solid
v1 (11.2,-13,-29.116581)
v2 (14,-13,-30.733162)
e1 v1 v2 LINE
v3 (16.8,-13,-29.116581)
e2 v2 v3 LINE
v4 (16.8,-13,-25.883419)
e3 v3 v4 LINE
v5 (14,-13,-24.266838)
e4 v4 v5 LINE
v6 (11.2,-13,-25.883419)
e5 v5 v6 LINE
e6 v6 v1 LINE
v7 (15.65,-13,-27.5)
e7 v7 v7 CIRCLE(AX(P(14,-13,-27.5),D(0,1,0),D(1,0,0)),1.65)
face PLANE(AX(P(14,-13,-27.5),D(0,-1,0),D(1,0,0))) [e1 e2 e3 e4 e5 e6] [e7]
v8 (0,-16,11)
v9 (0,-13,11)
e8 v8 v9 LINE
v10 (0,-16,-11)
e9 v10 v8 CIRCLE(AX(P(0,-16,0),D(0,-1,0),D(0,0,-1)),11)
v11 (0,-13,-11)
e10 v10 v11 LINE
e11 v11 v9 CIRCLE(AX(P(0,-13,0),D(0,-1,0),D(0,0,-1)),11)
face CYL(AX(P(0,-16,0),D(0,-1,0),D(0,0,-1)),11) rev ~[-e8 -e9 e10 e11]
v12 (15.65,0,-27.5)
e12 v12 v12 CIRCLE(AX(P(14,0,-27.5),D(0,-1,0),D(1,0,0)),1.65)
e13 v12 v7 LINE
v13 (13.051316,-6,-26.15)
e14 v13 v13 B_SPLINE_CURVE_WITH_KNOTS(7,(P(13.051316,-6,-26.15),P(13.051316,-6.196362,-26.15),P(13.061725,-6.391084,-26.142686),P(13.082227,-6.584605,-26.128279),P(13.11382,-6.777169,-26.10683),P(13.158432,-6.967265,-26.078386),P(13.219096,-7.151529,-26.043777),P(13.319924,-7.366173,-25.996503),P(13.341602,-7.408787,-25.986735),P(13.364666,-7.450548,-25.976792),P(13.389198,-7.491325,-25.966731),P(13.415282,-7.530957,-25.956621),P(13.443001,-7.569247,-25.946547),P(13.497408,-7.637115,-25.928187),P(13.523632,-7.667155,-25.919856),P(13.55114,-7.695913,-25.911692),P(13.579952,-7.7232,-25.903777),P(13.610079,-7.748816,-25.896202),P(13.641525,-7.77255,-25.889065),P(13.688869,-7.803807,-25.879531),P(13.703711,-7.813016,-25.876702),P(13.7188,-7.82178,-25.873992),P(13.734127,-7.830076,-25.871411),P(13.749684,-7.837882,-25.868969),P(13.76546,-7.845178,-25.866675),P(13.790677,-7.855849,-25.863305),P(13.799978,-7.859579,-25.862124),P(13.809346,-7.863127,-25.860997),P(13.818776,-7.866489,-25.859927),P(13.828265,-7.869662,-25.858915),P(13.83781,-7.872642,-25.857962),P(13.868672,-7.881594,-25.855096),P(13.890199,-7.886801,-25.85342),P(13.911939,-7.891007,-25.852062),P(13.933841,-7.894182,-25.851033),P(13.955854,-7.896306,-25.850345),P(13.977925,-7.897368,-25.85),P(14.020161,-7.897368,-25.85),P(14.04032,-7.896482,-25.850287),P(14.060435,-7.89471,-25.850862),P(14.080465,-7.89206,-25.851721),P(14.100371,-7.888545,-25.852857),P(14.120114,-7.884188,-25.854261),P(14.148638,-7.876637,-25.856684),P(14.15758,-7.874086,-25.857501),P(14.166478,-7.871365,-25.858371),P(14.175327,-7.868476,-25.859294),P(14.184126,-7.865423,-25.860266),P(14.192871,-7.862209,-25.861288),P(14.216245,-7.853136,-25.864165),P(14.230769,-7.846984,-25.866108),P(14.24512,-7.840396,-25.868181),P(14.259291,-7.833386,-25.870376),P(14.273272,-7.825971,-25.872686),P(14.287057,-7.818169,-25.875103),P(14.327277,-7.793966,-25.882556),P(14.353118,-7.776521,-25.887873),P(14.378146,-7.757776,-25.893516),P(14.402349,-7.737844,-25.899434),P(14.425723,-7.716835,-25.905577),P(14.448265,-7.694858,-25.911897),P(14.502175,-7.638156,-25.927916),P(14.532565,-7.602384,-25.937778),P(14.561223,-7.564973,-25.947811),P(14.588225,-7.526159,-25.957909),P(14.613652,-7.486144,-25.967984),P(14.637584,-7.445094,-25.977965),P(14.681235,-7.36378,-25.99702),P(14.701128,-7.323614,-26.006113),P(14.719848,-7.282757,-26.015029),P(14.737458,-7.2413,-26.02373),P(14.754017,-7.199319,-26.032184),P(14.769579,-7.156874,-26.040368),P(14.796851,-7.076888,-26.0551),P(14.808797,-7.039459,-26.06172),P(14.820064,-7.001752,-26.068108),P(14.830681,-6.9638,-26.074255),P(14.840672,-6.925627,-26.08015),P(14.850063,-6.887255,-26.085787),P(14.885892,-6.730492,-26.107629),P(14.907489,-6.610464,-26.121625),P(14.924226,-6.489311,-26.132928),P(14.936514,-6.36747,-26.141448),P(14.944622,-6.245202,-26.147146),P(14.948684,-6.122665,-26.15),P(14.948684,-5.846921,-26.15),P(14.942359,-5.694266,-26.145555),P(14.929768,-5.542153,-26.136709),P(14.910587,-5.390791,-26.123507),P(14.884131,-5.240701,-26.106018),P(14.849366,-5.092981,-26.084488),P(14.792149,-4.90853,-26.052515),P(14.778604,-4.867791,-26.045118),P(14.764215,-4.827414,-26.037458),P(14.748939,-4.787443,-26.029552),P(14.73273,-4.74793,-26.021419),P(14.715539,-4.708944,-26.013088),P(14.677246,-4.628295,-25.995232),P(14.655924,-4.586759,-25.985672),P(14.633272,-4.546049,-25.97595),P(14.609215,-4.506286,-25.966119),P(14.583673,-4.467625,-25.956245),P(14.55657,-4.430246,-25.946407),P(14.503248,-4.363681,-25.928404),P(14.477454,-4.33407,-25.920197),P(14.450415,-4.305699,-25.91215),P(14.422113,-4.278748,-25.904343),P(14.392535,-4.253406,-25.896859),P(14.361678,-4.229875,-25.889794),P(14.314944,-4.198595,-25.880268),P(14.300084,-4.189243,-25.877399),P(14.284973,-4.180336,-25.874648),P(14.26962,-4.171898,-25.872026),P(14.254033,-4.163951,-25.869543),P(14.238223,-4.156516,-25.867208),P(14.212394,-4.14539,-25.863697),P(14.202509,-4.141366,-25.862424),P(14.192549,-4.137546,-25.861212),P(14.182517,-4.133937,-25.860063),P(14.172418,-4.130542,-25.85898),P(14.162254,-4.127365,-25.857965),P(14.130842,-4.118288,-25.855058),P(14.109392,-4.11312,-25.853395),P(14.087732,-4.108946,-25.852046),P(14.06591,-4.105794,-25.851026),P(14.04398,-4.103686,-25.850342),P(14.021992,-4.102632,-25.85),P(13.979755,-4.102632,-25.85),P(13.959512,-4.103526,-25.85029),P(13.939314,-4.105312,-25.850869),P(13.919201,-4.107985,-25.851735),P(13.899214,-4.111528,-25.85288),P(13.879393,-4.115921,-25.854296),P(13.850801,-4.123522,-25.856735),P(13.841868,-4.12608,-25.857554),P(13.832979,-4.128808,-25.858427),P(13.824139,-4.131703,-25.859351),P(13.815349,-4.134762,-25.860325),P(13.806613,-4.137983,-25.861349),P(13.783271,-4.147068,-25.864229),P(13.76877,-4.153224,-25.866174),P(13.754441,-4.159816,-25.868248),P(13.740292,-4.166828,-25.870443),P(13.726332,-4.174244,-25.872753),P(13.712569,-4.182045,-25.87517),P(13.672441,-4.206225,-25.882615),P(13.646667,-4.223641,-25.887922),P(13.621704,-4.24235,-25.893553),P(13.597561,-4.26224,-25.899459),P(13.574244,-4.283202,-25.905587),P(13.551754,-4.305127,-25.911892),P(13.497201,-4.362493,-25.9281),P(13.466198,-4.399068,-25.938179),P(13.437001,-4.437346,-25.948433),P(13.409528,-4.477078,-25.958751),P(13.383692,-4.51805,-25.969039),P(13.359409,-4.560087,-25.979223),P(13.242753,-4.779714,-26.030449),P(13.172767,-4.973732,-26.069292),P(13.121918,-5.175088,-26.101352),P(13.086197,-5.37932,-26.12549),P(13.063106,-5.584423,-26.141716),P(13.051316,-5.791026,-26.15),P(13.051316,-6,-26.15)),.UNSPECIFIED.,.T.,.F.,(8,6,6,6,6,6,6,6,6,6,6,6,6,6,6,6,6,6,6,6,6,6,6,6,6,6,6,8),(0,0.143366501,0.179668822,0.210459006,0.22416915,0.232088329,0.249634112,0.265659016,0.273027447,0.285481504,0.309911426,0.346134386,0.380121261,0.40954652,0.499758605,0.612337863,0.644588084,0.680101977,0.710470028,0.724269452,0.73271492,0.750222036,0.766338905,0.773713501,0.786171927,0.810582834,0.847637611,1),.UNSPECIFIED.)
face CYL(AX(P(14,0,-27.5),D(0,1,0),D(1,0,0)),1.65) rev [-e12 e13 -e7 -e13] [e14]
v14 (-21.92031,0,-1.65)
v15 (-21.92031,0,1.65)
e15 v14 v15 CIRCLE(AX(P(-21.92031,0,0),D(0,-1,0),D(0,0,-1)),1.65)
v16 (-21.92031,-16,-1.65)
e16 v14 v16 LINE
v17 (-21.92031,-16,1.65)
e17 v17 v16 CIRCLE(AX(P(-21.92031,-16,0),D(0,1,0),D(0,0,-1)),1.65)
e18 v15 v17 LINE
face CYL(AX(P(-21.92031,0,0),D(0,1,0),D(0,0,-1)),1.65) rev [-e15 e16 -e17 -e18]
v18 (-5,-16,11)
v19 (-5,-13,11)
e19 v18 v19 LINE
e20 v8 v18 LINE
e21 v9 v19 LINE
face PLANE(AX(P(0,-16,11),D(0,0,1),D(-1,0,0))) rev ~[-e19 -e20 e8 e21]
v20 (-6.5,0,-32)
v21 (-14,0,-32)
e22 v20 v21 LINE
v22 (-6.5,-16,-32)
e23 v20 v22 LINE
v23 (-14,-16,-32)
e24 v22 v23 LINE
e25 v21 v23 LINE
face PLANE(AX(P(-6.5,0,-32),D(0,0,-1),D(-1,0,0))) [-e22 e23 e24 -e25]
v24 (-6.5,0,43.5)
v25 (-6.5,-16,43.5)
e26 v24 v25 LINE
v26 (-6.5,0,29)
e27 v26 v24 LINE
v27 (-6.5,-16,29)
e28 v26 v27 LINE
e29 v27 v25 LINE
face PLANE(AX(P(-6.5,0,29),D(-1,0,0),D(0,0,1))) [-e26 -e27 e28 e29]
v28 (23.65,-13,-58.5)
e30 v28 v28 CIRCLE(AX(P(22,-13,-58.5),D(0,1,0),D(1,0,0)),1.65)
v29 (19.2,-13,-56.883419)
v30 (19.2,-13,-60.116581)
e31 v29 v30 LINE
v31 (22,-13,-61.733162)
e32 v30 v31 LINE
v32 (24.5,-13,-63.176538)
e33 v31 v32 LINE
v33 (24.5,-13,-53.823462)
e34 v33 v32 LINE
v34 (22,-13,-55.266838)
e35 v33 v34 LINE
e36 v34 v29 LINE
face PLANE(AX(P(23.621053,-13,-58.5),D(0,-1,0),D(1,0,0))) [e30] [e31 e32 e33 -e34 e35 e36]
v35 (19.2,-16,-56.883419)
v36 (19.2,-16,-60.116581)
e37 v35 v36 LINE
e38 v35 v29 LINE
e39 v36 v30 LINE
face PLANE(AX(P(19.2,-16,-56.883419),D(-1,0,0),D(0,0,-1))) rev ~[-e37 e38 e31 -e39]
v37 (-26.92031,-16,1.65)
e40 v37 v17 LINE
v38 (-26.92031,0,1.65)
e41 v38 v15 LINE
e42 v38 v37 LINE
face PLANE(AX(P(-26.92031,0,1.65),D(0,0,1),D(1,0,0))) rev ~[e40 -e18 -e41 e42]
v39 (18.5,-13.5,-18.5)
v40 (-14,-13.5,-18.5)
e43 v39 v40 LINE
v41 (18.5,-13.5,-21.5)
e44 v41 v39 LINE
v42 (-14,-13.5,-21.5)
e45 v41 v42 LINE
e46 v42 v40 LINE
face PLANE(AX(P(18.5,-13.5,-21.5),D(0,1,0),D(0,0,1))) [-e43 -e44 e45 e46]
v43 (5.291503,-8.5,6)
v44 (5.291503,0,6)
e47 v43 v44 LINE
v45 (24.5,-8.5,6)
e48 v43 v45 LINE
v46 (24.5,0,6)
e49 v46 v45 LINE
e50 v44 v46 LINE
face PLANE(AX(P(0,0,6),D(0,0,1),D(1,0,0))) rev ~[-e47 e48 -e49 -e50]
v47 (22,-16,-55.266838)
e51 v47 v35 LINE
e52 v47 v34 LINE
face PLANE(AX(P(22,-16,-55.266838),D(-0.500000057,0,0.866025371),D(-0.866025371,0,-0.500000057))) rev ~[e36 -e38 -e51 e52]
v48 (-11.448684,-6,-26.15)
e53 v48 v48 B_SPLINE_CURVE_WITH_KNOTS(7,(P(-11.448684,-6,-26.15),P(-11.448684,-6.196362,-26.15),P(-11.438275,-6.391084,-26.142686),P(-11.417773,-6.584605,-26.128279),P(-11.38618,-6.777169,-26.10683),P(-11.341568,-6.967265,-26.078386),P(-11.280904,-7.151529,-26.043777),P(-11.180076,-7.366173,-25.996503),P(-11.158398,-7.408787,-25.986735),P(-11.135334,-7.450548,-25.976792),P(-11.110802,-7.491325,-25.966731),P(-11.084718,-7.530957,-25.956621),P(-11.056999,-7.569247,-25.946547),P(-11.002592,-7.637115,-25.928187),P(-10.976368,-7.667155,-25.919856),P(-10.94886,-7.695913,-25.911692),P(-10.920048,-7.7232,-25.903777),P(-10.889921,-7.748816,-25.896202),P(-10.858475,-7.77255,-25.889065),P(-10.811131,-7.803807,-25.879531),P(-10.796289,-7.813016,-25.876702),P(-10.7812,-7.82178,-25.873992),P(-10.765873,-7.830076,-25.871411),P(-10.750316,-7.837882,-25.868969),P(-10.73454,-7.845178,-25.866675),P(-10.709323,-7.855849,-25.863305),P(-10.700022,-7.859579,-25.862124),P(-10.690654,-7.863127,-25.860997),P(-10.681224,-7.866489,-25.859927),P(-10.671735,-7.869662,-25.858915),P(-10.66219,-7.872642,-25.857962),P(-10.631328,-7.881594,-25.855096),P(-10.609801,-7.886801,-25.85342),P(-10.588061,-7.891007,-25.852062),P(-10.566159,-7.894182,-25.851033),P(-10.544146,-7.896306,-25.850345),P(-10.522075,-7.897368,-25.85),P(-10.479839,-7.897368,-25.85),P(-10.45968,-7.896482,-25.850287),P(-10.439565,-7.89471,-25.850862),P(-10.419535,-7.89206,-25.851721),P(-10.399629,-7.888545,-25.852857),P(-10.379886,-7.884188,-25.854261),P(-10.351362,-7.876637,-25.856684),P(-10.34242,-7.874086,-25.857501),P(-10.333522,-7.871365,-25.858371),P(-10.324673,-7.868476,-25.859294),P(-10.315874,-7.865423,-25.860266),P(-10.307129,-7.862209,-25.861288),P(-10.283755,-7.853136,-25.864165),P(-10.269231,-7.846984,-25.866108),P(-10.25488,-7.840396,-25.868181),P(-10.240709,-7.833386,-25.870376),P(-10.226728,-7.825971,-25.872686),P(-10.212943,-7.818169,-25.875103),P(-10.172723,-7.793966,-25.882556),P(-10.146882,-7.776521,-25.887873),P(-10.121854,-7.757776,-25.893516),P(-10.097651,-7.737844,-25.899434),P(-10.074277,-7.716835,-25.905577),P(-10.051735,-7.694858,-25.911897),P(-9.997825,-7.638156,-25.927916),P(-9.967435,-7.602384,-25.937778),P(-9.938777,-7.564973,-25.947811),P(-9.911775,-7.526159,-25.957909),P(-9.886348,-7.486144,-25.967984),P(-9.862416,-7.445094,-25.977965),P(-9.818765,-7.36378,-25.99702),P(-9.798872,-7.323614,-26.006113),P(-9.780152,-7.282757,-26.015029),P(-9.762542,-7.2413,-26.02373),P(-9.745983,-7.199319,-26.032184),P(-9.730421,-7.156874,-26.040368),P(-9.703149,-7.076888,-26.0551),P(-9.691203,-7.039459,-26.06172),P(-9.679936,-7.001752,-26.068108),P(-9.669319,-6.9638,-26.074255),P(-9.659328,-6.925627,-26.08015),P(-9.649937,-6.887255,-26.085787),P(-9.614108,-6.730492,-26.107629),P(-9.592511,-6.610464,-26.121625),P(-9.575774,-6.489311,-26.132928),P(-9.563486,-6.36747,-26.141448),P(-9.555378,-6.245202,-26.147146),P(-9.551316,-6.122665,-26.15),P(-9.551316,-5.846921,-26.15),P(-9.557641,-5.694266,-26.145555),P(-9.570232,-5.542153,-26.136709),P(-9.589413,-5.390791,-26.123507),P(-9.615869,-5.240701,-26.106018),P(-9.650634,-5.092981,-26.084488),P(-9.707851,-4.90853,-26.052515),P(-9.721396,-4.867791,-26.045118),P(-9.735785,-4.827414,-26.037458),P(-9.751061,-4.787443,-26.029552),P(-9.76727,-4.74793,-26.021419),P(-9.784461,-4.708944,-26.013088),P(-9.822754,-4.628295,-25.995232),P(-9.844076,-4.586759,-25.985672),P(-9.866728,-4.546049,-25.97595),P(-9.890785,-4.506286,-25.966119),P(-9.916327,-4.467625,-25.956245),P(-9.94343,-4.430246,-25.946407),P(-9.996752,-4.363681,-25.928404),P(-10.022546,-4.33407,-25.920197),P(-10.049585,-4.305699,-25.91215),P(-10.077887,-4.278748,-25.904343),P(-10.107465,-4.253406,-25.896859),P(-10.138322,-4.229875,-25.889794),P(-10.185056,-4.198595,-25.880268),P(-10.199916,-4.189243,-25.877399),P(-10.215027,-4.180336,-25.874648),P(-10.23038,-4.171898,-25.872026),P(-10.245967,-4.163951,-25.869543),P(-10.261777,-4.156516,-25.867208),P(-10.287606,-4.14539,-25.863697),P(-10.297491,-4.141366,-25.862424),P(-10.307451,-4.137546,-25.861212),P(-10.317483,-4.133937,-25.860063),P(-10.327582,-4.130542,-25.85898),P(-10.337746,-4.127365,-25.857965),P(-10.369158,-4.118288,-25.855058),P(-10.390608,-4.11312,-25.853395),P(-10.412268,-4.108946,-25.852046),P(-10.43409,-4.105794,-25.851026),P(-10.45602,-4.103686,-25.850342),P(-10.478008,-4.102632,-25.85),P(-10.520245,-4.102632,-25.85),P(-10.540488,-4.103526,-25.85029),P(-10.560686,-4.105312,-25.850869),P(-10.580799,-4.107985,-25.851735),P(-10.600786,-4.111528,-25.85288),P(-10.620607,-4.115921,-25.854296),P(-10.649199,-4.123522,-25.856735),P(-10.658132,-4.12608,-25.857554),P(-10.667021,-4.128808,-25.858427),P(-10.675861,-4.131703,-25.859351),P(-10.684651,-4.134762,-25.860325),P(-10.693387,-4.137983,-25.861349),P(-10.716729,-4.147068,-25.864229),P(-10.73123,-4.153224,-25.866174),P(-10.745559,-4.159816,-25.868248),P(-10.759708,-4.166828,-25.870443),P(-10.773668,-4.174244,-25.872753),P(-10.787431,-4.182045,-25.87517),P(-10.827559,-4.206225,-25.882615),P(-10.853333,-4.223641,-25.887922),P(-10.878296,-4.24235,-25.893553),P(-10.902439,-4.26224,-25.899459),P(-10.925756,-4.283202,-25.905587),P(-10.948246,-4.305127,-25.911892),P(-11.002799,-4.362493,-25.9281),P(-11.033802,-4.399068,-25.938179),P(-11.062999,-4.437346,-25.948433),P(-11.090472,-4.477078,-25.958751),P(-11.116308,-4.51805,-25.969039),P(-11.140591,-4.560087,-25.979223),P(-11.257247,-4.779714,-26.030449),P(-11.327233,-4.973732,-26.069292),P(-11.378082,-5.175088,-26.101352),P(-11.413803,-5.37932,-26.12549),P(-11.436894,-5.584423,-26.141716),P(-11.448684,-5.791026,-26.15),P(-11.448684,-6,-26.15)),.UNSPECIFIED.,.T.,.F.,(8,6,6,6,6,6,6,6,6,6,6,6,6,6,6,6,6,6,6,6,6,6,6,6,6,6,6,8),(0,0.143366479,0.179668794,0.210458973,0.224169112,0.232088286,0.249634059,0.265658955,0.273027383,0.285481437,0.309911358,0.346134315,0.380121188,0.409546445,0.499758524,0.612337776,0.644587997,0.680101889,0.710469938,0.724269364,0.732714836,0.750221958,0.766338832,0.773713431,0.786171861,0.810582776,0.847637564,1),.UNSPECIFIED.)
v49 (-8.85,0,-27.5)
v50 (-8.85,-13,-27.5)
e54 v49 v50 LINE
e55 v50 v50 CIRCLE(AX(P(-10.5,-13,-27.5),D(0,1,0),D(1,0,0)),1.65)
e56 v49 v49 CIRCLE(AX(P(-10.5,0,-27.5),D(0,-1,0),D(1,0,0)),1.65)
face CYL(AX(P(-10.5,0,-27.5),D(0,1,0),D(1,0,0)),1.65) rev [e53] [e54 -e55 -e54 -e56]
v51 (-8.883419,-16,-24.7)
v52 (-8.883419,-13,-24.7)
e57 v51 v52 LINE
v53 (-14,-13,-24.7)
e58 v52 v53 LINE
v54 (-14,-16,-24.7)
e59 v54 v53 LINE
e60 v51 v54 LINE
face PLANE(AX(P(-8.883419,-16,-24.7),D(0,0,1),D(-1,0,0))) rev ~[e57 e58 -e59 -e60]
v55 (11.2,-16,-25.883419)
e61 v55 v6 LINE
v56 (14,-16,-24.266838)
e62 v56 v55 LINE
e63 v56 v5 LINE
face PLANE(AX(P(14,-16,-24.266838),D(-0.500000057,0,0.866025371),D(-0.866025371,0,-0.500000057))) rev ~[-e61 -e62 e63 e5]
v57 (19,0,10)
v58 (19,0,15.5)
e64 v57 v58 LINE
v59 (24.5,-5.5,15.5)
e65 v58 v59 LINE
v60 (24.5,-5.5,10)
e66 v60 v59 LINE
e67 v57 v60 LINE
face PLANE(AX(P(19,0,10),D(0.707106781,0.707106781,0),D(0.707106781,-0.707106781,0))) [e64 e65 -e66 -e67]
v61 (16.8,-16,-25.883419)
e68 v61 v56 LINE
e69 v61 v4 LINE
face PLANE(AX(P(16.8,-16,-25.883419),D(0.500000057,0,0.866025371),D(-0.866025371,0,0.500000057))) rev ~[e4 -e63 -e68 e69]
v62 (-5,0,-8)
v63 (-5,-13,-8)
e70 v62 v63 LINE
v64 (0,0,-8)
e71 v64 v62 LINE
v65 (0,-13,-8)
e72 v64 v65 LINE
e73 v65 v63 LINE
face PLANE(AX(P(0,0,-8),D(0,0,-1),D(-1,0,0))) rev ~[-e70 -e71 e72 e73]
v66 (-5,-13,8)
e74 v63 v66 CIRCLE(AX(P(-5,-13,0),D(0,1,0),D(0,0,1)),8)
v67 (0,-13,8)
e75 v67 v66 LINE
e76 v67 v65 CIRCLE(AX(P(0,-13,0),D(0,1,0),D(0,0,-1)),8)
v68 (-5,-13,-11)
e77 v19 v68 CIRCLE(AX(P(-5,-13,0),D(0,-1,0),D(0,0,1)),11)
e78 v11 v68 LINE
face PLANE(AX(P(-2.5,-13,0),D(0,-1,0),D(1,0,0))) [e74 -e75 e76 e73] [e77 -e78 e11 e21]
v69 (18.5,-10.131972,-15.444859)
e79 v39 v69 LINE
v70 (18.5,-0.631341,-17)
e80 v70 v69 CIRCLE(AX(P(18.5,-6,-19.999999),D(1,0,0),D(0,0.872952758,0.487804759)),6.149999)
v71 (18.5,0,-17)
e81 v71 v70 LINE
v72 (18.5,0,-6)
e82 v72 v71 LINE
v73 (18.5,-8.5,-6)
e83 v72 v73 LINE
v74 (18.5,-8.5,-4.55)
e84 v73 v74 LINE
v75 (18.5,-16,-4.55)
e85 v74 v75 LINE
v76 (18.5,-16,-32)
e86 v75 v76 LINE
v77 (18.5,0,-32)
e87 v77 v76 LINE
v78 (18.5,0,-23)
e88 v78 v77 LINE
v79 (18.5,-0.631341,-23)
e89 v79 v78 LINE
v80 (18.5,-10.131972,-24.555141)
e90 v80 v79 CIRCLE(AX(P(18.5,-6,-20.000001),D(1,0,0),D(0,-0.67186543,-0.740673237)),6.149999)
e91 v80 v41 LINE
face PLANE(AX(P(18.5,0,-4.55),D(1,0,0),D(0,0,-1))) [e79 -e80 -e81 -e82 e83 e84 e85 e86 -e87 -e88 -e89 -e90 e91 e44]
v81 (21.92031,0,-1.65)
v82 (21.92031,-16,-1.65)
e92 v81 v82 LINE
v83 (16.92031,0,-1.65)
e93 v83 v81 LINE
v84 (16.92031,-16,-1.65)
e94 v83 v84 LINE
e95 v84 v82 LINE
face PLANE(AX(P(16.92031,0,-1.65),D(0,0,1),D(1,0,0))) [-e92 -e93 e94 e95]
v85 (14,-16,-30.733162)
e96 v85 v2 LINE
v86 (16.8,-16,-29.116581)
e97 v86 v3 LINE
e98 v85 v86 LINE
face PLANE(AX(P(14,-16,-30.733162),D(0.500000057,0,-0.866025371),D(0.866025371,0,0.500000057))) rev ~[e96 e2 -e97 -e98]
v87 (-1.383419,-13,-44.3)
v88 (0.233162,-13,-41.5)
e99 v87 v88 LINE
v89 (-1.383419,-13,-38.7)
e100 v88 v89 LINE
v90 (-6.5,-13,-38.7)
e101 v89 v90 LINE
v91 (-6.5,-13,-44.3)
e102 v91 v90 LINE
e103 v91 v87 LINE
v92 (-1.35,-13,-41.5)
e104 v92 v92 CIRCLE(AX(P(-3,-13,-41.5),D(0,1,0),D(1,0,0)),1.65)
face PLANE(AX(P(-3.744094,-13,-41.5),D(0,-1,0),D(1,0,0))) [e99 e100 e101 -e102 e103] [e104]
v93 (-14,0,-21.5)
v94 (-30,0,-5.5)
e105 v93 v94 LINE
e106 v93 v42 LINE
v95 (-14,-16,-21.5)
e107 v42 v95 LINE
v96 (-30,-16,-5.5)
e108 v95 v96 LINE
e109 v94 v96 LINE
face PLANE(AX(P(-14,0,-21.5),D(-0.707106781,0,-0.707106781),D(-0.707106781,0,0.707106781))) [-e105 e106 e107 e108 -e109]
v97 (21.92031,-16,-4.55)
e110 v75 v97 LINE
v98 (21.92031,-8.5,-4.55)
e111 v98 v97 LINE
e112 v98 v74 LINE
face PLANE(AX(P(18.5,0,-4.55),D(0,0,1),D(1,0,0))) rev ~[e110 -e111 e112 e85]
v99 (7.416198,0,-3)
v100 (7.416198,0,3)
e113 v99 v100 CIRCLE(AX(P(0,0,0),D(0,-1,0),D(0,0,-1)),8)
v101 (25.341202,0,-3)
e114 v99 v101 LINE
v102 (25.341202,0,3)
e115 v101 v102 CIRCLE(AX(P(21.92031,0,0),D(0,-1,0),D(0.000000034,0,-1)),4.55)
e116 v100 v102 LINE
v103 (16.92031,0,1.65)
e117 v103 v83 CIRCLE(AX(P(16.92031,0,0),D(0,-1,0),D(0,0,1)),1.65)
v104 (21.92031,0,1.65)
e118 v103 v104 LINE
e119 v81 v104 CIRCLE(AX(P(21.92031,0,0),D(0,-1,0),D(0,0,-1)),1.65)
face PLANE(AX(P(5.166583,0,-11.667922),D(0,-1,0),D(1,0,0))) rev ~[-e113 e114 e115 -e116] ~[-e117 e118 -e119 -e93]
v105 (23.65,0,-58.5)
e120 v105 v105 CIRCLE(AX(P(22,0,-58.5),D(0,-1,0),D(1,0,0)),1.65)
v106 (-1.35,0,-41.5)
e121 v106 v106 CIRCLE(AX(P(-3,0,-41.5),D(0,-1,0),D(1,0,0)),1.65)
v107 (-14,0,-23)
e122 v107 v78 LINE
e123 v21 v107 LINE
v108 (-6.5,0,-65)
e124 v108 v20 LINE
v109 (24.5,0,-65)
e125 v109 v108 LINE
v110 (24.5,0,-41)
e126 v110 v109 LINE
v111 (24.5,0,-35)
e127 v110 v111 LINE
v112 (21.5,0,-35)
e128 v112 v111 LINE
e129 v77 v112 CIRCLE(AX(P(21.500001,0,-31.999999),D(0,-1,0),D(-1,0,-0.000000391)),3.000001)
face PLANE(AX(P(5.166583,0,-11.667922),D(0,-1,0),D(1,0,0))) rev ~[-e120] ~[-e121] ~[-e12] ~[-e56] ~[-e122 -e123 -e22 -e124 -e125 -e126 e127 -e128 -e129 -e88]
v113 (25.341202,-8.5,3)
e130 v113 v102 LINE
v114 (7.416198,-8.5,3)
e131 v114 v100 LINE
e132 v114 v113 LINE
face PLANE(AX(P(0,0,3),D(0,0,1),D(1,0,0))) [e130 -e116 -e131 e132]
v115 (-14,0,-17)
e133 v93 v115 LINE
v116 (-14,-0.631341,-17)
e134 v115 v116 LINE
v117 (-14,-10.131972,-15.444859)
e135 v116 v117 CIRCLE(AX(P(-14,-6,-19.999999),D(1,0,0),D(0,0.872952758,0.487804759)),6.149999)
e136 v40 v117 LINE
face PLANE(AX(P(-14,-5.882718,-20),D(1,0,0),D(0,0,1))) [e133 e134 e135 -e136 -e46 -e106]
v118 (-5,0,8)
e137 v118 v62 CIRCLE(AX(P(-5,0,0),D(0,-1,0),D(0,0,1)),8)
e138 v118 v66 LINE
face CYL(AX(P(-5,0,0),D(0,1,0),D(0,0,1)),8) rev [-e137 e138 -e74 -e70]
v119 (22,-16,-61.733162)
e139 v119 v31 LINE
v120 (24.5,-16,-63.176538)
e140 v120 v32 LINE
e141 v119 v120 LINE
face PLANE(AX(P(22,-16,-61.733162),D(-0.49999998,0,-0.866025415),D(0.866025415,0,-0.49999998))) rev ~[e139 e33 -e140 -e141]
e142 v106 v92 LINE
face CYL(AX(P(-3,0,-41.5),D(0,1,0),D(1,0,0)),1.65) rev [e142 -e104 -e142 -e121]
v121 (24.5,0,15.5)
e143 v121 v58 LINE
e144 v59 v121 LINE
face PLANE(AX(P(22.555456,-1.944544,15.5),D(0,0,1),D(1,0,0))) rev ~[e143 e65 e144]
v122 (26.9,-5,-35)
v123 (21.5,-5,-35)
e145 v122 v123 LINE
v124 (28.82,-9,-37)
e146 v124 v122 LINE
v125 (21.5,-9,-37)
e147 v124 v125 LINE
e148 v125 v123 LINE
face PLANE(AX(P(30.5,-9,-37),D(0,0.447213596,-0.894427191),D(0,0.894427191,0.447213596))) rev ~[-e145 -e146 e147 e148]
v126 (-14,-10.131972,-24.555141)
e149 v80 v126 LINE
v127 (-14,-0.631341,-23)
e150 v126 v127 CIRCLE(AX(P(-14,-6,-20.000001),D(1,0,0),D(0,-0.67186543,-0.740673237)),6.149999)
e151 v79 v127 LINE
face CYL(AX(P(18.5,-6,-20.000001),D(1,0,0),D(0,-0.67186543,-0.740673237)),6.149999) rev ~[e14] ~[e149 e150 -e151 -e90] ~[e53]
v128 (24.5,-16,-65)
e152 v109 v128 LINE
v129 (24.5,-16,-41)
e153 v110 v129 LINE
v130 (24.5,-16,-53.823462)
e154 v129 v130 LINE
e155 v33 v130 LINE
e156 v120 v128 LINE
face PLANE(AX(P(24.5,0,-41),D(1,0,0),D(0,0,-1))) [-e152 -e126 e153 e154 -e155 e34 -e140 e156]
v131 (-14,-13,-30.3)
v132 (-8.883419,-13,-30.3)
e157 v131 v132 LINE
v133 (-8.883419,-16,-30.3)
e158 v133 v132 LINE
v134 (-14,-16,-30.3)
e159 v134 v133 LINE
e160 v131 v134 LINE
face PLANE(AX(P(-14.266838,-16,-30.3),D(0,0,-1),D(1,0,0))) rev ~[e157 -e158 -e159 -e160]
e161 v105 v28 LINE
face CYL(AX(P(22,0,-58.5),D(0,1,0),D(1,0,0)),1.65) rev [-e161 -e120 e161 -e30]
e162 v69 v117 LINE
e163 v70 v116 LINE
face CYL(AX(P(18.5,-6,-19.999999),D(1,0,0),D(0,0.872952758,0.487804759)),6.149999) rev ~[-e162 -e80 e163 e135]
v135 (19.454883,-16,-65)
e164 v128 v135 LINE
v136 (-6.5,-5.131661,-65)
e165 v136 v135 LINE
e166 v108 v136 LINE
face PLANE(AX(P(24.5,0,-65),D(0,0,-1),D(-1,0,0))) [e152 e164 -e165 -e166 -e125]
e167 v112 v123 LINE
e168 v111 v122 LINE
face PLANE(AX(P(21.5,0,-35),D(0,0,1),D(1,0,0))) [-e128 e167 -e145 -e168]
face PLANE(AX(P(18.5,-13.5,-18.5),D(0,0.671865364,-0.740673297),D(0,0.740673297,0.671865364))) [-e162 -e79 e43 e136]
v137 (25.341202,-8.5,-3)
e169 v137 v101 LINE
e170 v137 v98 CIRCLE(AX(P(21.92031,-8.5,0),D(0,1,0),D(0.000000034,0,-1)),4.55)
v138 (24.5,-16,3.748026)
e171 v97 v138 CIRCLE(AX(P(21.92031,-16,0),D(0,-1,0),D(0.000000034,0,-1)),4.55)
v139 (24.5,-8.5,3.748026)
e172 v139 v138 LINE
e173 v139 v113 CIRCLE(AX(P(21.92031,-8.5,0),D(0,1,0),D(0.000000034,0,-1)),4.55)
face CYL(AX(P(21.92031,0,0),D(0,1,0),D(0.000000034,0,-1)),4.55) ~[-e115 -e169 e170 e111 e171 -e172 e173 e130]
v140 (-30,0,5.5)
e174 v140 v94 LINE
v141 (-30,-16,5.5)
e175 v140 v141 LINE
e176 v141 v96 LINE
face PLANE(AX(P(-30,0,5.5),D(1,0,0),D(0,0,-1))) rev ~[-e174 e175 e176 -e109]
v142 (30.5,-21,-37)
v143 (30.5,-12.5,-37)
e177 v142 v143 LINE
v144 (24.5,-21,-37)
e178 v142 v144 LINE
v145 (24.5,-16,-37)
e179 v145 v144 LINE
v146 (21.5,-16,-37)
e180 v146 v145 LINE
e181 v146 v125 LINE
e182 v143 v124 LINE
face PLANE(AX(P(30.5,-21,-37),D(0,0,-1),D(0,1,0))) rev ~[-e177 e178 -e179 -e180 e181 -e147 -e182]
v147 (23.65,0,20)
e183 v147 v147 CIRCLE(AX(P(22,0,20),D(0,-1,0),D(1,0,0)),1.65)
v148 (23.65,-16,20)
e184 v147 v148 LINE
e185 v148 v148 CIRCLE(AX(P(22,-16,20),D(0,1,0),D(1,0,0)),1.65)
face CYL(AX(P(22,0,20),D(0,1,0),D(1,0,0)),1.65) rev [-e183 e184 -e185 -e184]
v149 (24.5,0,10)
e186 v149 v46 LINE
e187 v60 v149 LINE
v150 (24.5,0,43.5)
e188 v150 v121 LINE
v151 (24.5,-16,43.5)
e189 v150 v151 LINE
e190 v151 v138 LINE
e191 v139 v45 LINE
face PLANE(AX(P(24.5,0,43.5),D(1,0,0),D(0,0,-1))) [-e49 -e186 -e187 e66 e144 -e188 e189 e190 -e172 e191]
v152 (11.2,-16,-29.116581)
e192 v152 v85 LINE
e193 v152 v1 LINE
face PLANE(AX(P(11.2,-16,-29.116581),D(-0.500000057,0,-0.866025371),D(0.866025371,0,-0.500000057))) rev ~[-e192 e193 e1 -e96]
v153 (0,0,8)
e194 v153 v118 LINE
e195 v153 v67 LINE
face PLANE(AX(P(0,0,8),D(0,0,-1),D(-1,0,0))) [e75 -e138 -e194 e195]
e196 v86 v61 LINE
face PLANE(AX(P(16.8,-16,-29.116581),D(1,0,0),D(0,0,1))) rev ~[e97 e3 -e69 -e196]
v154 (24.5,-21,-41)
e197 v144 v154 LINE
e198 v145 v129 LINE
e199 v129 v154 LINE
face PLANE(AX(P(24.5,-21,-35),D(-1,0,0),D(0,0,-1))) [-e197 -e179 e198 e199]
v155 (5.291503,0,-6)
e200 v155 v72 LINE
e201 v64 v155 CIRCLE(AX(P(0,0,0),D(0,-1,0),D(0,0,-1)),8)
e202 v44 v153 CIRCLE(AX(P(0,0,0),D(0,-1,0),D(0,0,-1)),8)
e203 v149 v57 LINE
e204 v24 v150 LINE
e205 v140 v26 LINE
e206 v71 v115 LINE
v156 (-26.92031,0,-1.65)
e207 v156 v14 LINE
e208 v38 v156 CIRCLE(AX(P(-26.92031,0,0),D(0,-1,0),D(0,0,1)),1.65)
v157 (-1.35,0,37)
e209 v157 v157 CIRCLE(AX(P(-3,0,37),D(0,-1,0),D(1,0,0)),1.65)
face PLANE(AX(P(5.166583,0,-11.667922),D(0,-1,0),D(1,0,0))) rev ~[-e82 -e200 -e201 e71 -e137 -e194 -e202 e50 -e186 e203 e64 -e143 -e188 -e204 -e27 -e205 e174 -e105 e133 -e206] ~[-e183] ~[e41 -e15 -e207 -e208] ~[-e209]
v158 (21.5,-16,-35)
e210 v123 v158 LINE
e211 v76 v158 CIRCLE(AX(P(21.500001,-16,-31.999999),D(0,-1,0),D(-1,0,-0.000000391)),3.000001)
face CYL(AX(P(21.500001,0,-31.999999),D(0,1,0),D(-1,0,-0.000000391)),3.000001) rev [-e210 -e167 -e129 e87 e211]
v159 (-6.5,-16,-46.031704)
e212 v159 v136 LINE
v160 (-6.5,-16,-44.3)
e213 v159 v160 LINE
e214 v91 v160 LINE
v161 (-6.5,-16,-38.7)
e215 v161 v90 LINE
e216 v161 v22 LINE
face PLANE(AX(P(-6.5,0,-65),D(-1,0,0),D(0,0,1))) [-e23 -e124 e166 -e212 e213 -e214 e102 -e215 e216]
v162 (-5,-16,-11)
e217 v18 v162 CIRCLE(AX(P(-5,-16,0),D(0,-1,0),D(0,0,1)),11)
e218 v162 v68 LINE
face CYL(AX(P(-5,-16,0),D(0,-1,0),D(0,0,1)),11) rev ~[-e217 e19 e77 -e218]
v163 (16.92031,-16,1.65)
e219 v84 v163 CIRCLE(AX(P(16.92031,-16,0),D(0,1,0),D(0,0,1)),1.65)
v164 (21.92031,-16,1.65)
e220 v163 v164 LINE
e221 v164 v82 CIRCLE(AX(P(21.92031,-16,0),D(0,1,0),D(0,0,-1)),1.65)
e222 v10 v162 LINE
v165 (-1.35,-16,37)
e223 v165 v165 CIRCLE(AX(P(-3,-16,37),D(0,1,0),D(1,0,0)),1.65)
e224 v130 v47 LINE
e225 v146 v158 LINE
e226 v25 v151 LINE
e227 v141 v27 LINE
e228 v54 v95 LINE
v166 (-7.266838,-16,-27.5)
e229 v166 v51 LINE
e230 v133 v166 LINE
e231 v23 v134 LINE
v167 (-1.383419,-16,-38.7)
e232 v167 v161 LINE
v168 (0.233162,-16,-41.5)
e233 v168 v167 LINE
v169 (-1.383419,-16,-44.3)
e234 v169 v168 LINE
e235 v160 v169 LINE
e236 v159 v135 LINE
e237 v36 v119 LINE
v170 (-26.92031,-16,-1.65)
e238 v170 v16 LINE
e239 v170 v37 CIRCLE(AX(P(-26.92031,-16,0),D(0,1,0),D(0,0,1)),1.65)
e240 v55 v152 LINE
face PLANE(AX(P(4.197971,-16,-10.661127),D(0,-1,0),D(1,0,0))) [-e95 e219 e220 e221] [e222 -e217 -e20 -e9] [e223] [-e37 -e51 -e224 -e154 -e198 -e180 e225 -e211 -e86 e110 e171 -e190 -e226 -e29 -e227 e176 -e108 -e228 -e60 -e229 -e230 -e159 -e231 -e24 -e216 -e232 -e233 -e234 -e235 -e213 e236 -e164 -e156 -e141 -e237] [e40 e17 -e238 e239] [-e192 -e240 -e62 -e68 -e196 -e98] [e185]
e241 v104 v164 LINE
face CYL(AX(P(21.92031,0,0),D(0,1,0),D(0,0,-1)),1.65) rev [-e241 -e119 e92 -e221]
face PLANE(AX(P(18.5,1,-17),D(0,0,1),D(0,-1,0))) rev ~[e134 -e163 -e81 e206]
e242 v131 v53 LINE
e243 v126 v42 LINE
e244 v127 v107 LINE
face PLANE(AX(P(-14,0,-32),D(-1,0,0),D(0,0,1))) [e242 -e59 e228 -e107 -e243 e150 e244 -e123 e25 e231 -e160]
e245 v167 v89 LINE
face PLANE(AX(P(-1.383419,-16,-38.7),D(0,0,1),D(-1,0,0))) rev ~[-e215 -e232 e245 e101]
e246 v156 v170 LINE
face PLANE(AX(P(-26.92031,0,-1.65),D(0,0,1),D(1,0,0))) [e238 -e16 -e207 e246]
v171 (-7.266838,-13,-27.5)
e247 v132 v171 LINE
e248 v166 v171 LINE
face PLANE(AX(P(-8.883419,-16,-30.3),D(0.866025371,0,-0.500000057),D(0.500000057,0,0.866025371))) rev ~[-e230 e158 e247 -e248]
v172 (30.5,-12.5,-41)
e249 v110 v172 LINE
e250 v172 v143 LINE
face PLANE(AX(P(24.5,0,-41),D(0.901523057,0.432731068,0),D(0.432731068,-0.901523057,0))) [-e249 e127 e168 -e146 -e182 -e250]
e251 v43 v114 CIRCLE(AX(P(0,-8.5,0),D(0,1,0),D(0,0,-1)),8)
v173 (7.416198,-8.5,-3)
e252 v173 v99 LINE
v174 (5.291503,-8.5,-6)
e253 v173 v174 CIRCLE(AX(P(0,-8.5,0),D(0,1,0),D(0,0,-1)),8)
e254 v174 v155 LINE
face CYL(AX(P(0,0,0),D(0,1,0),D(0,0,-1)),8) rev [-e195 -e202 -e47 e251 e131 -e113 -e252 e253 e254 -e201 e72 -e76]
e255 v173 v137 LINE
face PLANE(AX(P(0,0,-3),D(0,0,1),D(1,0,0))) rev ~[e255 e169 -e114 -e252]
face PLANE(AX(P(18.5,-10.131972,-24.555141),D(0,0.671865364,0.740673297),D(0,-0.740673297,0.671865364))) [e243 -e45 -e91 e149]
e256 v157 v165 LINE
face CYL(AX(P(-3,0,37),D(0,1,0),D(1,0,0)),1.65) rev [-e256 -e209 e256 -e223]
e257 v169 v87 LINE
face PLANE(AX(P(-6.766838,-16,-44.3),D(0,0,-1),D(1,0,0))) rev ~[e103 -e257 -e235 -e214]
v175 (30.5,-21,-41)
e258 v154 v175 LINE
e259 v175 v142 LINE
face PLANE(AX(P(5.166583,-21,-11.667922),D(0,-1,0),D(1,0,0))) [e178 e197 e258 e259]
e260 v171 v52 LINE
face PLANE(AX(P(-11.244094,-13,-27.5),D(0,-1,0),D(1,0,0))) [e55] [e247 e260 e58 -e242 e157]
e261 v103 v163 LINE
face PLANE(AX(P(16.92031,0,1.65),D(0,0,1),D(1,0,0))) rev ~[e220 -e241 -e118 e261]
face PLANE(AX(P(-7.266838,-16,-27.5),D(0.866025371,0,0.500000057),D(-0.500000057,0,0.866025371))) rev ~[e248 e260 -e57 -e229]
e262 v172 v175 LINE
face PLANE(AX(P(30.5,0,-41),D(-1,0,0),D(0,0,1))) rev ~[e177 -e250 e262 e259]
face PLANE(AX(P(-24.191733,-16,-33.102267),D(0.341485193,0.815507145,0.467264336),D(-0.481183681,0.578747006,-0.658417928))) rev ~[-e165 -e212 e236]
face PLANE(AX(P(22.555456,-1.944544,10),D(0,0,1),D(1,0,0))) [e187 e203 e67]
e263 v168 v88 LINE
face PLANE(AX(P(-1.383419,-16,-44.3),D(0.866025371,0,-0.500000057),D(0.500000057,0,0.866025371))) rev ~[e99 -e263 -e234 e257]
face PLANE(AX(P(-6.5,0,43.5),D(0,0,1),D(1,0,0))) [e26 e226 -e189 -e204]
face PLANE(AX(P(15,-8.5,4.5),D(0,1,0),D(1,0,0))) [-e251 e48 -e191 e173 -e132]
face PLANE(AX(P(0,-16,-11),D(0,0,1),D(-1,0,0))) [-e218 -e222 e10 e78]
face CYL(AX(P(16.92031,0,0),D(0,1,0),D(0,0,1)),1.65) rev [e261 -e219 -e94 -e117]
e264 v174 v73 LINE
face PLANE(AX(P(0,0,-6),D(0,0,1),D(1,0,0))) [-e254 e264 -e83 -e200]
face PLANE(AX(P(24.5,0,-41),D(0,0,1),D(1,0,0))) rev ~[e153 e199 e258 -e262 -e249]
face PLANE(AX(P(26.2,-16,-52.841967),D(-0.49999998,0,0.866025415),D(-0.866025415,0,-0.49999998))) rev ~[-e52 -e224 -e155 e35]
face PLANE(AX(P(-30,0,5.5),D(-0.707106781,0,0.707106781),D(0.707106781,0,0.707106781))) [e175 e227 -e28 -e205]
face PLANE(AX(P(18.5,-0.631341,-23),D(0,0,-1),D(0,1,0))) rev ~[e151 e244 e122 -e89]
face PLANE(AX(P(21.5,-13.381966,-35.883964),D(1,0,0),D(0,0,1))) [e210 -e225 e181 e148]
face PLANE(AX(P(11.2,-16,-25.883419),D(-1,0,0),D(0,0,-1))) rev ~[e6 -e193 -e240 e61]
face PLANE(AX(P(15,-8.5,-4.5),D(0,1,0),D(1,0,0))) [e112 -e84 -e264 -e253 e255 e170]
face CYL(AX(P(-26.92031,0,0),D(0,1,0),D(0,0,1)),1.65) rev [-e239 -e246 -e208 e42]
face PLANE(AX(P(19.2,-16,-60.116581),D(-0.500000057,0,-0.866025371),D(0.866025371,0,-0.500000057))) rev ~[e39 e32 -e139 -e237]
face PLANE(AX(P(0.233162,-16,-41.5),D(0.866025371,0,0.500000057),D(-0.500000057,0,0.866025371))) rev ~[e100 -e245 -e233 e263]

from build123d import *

# Parameters (mm, degrees)
SKETCH001_R     = 1.65
PAD_DEPTH       = 21
POCKET_DEPTH    = 3
POCKET001_DEPTH = 5
POCKET002_DEPTH = 62.9786
SKETCH005_W     = 30
SKETCH005_H     = 3
POCKET003_DEPTH = 8.5
POCKET004_DEPTH = 32.5
POCKET005_DEPTH = 6
POCKET006_DEPTH = 9
POCKET007_DEPTH = 5.5


with BuildPart() as part:
    # Sketch001 → Pad (new body)
    with BuildSketch(Plane.XZ):
        with BuildLine():
            ThreePointArc((21.92031, -4.55), (26.265193, -1.350737), (24.5, 3.748026))
            Line((24.5, 43.5), (24.5, 3.748026))
            Line((-6.5, 43.5), (24.5, 43.5))
            Line((-6.5, 29), (-6.5, 43.5))
            Line((-30, 5.5), (-6.5, 29))
            Line((-30, 5.5), (-30, -5.5))
            Line((-14, -21.5), (-30, -5.5))
            Line((-14, -32), (-14, -21.5))
            Line((-6.5, -32), (-14, -32))
            Line((-6.5, -65), (-6.5, -32))
            Line((24.5, -65), (-6.5, -65))
            Line((24.5, -41), (24.5, -65))
            Line((24.5, -41), (30.5, -41))
            Line((30.5, -41), (30.5, -35))
            Line((21.5, -35), (30.5, -35))
            ThreePointArc((18.5, -32), (19.37868, -34.12132), (21.5, -35))
            Line((18.5, -4.55), (18.5, -32))
            Line((18.5, -4.55), (21.92031, -4.55))
        make_face()
        with Locations((22, 20)):
            Circle(SKETCH001_R, mode=Mode.SUBTRACT)
        with Locations((-3, 37)):
            Circle(SKETCH001_R, mode=Mode.SUBTRACT)
        with Locations((-10.5, -27.5)):
            Circle(SKETCH001_R, mode=Mode.SUBTRACT)
        with Locations((14, -27.5)):
            Circle(SKETCH001_R, mode=Mode.SUBTRACT)
        with Locations((-3, -41.5)):
            Circle(SKETCH001_R, mode=Mode.SUBTRACT)
        with Locations((22, -58.5)):
            Circle(SKETCH001_R, mode=Mode.SUBTRACT)
        with BuildLine():
            ThreePointArc((0, -8), (8, 0), (0, 8))
            Line((0, 8), (-5, 8))
            ThreePointArc((-5, 8), (-13, 0), (-5, -8))
            Line((0, -8), (-5, -8))
        make_face(mode=Mode.SUBTRACT)
        with BuildLine():
            ThreePointArc((16.92031, 1.65), (15.27031, 0), (16.92031, -1.65))
            Line((16.92031, -1.65), (21.92031, -1.65))
            ThreePointArc((21.92031, -1.65), (23.57031, 0), (21.92031, 1.65))
            Line((16.92031, 1.65), (21.92031, 1.65))
        make_face(mode=Mode.SUBTRACT)
        with BuildLine():
            ThreePointArc((-26.92031, 1.65), (-28.57031, 0), (-26.92031, -1.65))
            Line((-26.92031, -1.65), (-21.92031, -1.65))
            ThreePointArc((-21.92031, -1.65), (-20.27031, 0), (-21.92031, 1.65))
            Line((-26.92031, 1.65), (-21.92031, 1.65))
        make_face(mode=Mode.SUBTRACT)
    extrude(amount=PAD_DEPTH)

    # Sketch002 → Pocket (cut)
    with BuildSketch(Plane.XZ.offset(16)):
        Polygon((-8.883419, -24.7), (-12.116581, -24.7), (-14.266838, -24.7), (-14.266838, -30.3), (-12.116581, -30.3), (-8.883419, -30.3), (-7.266838, -27.5), align=None)
        Polygon((14, -24.266838), (11.2, -25.883419), (11.2, -29.116581), (14, -30.733162), (16.8, -29.116581), (16.8, -25.883419), align=None)
        Polygon((22, -55.266838), (19.2, -56.883419), (19.2, -60.116581), (22, -61.733162), (26.2, -64.158033), (26.2, -52.841967), align=None)
        Polygon((-1.383419, -38.7), (-4.616581, -38.7), (-6.766838, -38.7), (-6.766838, -44.3), (-4.616581, -44.3), (-1.383419, -44.3), (0.233162, -41.5), align=None)
        with BuildLine():
            ThreePointArc((0, -11), (11, 0), (0, 11))
            Line((0, 11), (-5, 11))
            ThreePointArc((-5, 11), (-16, 0), (-5, -11))
            Line((0, -11), (-5, -11))
        make_face()
    extrude(amount=-POCKET_DEPTH, mode=Mode.SUBTRACT)

    # Sketch003 → Pocket001 (cut)
    with BuildSketch(Plane.XZ.offset(21)):
        with BuildLine():
            ThreePointArc((21.92031, -4.55), (26.265193, -1.350737), (24.5, 3.748026))
            Line((24.5, 43.5), (24.5, 3.748026))
            Line((-6.5, 43.5), (24.5, 43.5))
            Line((-6.5, 29), (-6.5, 43.5))
            Line((-30, 5.5), (-6.5, 29))
            Line((-30, 5.5), (-30, -5.5))
            Line((-14, -21.5), (-30, -5.5))
            Line((-14, -32), (-14, -21.5))
            Line((-6.5, -32), (-14, -32))
            Line((-6.5, -65), (-6.5, -32))
            Line((24.5, -65), (-6.5, -65))
            Line((24.5, -35), (24.5, -65))
            Line((21.5, -35), (24.5, -35))
            ThreePointArc((18.5, -32), (19.37868, -34.12132), (21.5, -35))
            Line((18.5, -4.55), (18.5, -32))
            Line((18.5, -4.55), (21.92031, -4.55))
        make_face()
    extrude(amount=-POCKET001_DEPTH, mode=Mode.SUBTRACT)

    # Sketch004 → Pocket002 (cut, through all)
    with BuildSketch(Plane(origin=(0, 0, 0), x_dir=(0.590042, 0, 0.807372), z_dir=(-0.807372, 0, 0.590042))):
        Polygon((-56.5, -5), (-56.5, -16), (-41, -16), align=None)
    extrude(amount=-POCKET002_DEPTH, mode=Mode.SUBTRACT)

    # Sketch005 (on Face2 of Pocket002) → Pocket003 (cut)
    with BuildSketch(Plane(origin=(0, 0, 0), x_dir=(1, 0, 0), z_dir=(0, 1, 0))):
        with Locations((15, 4.5)):
            Rectangle(SKETCH005_W, SKETCH005_H)
        with Locations((15, -4.5)):
            Rectangle(SKETCH005_W, SKETCH005_H)
    extrude(amount=-POCKET003_DEPTH, mode=Mode.SUBTRACT)

    # Sketch006 (on Face5 of Pocket003) → Pocket004 (cut)
    with BuildSketch(Plane(origin=(18.5, 0, 0), x_dir=(0, 0, 1), z_dir=(1, 0, 0))):
        with BuildLine():
            ThreePointArc((-24.555141, 10.131972), (-26.069229, 5.006539), (-23, 0.631341))
            Line((-23, 0.631341), (-23, -1))
            Line((-23, -1), (-17, -1))
            Line((-17, -1), (-17, 0.631341))
            ThreePointArc((-17, 0.631341), (-13.930771, 5.006539), (-15.444859, 10.131972))
            Line((-18.5, 13.5), (-15.444859, 10.131972))
            Line((-21.5, 13.5), (-18.5, 13.5))
            Line((-24.555141, 10.131972), (-21.5, 13.5))
        make_face()
    extrude(amount=-POCKET004_DEPTH, mode=Mode.SUBTRACT)

    # Sketch007 (on Face79 of Pocket004) → Pocket005 (cut)
    with BuildSketch(Plane(origin=(0, 0, -41), x_dir=(1, 0, 0), z_dir=(0, 0, -1))):
        Polygon((24.5, 0), (30.5, 12.5), (30.5, 0), align=None)
    extrude(amount=-POCKET005_DEPTH, mode=Mode.SUBTRACT)

    # Sketch008 (on Face78 of Pocket005) → Pocket006 (cut)
    with BuildSketch(Plane(origin=(30.5, 0, 0), x_dir=(0, 0, 1), z_dir=(1, 0, 0))):
        Polygon((-37, 21), (-37, 9), (-35, 5), (-35, 21), align=None)
    extrude(amount=-POCKET006_DEPTH, mode=Mode.SUBTRACT)

    # Sketch009 → Pocket007 (cut)
    with BuildSketch(Plane.XY.offset(10)):
        Polygon((19, 0), (24.5, -5.5), (24.5, 0), align=None)
    extrude(amount=POCKET007_DEPTH, mode=Mode.SUBTRACT)


solid = part.part
